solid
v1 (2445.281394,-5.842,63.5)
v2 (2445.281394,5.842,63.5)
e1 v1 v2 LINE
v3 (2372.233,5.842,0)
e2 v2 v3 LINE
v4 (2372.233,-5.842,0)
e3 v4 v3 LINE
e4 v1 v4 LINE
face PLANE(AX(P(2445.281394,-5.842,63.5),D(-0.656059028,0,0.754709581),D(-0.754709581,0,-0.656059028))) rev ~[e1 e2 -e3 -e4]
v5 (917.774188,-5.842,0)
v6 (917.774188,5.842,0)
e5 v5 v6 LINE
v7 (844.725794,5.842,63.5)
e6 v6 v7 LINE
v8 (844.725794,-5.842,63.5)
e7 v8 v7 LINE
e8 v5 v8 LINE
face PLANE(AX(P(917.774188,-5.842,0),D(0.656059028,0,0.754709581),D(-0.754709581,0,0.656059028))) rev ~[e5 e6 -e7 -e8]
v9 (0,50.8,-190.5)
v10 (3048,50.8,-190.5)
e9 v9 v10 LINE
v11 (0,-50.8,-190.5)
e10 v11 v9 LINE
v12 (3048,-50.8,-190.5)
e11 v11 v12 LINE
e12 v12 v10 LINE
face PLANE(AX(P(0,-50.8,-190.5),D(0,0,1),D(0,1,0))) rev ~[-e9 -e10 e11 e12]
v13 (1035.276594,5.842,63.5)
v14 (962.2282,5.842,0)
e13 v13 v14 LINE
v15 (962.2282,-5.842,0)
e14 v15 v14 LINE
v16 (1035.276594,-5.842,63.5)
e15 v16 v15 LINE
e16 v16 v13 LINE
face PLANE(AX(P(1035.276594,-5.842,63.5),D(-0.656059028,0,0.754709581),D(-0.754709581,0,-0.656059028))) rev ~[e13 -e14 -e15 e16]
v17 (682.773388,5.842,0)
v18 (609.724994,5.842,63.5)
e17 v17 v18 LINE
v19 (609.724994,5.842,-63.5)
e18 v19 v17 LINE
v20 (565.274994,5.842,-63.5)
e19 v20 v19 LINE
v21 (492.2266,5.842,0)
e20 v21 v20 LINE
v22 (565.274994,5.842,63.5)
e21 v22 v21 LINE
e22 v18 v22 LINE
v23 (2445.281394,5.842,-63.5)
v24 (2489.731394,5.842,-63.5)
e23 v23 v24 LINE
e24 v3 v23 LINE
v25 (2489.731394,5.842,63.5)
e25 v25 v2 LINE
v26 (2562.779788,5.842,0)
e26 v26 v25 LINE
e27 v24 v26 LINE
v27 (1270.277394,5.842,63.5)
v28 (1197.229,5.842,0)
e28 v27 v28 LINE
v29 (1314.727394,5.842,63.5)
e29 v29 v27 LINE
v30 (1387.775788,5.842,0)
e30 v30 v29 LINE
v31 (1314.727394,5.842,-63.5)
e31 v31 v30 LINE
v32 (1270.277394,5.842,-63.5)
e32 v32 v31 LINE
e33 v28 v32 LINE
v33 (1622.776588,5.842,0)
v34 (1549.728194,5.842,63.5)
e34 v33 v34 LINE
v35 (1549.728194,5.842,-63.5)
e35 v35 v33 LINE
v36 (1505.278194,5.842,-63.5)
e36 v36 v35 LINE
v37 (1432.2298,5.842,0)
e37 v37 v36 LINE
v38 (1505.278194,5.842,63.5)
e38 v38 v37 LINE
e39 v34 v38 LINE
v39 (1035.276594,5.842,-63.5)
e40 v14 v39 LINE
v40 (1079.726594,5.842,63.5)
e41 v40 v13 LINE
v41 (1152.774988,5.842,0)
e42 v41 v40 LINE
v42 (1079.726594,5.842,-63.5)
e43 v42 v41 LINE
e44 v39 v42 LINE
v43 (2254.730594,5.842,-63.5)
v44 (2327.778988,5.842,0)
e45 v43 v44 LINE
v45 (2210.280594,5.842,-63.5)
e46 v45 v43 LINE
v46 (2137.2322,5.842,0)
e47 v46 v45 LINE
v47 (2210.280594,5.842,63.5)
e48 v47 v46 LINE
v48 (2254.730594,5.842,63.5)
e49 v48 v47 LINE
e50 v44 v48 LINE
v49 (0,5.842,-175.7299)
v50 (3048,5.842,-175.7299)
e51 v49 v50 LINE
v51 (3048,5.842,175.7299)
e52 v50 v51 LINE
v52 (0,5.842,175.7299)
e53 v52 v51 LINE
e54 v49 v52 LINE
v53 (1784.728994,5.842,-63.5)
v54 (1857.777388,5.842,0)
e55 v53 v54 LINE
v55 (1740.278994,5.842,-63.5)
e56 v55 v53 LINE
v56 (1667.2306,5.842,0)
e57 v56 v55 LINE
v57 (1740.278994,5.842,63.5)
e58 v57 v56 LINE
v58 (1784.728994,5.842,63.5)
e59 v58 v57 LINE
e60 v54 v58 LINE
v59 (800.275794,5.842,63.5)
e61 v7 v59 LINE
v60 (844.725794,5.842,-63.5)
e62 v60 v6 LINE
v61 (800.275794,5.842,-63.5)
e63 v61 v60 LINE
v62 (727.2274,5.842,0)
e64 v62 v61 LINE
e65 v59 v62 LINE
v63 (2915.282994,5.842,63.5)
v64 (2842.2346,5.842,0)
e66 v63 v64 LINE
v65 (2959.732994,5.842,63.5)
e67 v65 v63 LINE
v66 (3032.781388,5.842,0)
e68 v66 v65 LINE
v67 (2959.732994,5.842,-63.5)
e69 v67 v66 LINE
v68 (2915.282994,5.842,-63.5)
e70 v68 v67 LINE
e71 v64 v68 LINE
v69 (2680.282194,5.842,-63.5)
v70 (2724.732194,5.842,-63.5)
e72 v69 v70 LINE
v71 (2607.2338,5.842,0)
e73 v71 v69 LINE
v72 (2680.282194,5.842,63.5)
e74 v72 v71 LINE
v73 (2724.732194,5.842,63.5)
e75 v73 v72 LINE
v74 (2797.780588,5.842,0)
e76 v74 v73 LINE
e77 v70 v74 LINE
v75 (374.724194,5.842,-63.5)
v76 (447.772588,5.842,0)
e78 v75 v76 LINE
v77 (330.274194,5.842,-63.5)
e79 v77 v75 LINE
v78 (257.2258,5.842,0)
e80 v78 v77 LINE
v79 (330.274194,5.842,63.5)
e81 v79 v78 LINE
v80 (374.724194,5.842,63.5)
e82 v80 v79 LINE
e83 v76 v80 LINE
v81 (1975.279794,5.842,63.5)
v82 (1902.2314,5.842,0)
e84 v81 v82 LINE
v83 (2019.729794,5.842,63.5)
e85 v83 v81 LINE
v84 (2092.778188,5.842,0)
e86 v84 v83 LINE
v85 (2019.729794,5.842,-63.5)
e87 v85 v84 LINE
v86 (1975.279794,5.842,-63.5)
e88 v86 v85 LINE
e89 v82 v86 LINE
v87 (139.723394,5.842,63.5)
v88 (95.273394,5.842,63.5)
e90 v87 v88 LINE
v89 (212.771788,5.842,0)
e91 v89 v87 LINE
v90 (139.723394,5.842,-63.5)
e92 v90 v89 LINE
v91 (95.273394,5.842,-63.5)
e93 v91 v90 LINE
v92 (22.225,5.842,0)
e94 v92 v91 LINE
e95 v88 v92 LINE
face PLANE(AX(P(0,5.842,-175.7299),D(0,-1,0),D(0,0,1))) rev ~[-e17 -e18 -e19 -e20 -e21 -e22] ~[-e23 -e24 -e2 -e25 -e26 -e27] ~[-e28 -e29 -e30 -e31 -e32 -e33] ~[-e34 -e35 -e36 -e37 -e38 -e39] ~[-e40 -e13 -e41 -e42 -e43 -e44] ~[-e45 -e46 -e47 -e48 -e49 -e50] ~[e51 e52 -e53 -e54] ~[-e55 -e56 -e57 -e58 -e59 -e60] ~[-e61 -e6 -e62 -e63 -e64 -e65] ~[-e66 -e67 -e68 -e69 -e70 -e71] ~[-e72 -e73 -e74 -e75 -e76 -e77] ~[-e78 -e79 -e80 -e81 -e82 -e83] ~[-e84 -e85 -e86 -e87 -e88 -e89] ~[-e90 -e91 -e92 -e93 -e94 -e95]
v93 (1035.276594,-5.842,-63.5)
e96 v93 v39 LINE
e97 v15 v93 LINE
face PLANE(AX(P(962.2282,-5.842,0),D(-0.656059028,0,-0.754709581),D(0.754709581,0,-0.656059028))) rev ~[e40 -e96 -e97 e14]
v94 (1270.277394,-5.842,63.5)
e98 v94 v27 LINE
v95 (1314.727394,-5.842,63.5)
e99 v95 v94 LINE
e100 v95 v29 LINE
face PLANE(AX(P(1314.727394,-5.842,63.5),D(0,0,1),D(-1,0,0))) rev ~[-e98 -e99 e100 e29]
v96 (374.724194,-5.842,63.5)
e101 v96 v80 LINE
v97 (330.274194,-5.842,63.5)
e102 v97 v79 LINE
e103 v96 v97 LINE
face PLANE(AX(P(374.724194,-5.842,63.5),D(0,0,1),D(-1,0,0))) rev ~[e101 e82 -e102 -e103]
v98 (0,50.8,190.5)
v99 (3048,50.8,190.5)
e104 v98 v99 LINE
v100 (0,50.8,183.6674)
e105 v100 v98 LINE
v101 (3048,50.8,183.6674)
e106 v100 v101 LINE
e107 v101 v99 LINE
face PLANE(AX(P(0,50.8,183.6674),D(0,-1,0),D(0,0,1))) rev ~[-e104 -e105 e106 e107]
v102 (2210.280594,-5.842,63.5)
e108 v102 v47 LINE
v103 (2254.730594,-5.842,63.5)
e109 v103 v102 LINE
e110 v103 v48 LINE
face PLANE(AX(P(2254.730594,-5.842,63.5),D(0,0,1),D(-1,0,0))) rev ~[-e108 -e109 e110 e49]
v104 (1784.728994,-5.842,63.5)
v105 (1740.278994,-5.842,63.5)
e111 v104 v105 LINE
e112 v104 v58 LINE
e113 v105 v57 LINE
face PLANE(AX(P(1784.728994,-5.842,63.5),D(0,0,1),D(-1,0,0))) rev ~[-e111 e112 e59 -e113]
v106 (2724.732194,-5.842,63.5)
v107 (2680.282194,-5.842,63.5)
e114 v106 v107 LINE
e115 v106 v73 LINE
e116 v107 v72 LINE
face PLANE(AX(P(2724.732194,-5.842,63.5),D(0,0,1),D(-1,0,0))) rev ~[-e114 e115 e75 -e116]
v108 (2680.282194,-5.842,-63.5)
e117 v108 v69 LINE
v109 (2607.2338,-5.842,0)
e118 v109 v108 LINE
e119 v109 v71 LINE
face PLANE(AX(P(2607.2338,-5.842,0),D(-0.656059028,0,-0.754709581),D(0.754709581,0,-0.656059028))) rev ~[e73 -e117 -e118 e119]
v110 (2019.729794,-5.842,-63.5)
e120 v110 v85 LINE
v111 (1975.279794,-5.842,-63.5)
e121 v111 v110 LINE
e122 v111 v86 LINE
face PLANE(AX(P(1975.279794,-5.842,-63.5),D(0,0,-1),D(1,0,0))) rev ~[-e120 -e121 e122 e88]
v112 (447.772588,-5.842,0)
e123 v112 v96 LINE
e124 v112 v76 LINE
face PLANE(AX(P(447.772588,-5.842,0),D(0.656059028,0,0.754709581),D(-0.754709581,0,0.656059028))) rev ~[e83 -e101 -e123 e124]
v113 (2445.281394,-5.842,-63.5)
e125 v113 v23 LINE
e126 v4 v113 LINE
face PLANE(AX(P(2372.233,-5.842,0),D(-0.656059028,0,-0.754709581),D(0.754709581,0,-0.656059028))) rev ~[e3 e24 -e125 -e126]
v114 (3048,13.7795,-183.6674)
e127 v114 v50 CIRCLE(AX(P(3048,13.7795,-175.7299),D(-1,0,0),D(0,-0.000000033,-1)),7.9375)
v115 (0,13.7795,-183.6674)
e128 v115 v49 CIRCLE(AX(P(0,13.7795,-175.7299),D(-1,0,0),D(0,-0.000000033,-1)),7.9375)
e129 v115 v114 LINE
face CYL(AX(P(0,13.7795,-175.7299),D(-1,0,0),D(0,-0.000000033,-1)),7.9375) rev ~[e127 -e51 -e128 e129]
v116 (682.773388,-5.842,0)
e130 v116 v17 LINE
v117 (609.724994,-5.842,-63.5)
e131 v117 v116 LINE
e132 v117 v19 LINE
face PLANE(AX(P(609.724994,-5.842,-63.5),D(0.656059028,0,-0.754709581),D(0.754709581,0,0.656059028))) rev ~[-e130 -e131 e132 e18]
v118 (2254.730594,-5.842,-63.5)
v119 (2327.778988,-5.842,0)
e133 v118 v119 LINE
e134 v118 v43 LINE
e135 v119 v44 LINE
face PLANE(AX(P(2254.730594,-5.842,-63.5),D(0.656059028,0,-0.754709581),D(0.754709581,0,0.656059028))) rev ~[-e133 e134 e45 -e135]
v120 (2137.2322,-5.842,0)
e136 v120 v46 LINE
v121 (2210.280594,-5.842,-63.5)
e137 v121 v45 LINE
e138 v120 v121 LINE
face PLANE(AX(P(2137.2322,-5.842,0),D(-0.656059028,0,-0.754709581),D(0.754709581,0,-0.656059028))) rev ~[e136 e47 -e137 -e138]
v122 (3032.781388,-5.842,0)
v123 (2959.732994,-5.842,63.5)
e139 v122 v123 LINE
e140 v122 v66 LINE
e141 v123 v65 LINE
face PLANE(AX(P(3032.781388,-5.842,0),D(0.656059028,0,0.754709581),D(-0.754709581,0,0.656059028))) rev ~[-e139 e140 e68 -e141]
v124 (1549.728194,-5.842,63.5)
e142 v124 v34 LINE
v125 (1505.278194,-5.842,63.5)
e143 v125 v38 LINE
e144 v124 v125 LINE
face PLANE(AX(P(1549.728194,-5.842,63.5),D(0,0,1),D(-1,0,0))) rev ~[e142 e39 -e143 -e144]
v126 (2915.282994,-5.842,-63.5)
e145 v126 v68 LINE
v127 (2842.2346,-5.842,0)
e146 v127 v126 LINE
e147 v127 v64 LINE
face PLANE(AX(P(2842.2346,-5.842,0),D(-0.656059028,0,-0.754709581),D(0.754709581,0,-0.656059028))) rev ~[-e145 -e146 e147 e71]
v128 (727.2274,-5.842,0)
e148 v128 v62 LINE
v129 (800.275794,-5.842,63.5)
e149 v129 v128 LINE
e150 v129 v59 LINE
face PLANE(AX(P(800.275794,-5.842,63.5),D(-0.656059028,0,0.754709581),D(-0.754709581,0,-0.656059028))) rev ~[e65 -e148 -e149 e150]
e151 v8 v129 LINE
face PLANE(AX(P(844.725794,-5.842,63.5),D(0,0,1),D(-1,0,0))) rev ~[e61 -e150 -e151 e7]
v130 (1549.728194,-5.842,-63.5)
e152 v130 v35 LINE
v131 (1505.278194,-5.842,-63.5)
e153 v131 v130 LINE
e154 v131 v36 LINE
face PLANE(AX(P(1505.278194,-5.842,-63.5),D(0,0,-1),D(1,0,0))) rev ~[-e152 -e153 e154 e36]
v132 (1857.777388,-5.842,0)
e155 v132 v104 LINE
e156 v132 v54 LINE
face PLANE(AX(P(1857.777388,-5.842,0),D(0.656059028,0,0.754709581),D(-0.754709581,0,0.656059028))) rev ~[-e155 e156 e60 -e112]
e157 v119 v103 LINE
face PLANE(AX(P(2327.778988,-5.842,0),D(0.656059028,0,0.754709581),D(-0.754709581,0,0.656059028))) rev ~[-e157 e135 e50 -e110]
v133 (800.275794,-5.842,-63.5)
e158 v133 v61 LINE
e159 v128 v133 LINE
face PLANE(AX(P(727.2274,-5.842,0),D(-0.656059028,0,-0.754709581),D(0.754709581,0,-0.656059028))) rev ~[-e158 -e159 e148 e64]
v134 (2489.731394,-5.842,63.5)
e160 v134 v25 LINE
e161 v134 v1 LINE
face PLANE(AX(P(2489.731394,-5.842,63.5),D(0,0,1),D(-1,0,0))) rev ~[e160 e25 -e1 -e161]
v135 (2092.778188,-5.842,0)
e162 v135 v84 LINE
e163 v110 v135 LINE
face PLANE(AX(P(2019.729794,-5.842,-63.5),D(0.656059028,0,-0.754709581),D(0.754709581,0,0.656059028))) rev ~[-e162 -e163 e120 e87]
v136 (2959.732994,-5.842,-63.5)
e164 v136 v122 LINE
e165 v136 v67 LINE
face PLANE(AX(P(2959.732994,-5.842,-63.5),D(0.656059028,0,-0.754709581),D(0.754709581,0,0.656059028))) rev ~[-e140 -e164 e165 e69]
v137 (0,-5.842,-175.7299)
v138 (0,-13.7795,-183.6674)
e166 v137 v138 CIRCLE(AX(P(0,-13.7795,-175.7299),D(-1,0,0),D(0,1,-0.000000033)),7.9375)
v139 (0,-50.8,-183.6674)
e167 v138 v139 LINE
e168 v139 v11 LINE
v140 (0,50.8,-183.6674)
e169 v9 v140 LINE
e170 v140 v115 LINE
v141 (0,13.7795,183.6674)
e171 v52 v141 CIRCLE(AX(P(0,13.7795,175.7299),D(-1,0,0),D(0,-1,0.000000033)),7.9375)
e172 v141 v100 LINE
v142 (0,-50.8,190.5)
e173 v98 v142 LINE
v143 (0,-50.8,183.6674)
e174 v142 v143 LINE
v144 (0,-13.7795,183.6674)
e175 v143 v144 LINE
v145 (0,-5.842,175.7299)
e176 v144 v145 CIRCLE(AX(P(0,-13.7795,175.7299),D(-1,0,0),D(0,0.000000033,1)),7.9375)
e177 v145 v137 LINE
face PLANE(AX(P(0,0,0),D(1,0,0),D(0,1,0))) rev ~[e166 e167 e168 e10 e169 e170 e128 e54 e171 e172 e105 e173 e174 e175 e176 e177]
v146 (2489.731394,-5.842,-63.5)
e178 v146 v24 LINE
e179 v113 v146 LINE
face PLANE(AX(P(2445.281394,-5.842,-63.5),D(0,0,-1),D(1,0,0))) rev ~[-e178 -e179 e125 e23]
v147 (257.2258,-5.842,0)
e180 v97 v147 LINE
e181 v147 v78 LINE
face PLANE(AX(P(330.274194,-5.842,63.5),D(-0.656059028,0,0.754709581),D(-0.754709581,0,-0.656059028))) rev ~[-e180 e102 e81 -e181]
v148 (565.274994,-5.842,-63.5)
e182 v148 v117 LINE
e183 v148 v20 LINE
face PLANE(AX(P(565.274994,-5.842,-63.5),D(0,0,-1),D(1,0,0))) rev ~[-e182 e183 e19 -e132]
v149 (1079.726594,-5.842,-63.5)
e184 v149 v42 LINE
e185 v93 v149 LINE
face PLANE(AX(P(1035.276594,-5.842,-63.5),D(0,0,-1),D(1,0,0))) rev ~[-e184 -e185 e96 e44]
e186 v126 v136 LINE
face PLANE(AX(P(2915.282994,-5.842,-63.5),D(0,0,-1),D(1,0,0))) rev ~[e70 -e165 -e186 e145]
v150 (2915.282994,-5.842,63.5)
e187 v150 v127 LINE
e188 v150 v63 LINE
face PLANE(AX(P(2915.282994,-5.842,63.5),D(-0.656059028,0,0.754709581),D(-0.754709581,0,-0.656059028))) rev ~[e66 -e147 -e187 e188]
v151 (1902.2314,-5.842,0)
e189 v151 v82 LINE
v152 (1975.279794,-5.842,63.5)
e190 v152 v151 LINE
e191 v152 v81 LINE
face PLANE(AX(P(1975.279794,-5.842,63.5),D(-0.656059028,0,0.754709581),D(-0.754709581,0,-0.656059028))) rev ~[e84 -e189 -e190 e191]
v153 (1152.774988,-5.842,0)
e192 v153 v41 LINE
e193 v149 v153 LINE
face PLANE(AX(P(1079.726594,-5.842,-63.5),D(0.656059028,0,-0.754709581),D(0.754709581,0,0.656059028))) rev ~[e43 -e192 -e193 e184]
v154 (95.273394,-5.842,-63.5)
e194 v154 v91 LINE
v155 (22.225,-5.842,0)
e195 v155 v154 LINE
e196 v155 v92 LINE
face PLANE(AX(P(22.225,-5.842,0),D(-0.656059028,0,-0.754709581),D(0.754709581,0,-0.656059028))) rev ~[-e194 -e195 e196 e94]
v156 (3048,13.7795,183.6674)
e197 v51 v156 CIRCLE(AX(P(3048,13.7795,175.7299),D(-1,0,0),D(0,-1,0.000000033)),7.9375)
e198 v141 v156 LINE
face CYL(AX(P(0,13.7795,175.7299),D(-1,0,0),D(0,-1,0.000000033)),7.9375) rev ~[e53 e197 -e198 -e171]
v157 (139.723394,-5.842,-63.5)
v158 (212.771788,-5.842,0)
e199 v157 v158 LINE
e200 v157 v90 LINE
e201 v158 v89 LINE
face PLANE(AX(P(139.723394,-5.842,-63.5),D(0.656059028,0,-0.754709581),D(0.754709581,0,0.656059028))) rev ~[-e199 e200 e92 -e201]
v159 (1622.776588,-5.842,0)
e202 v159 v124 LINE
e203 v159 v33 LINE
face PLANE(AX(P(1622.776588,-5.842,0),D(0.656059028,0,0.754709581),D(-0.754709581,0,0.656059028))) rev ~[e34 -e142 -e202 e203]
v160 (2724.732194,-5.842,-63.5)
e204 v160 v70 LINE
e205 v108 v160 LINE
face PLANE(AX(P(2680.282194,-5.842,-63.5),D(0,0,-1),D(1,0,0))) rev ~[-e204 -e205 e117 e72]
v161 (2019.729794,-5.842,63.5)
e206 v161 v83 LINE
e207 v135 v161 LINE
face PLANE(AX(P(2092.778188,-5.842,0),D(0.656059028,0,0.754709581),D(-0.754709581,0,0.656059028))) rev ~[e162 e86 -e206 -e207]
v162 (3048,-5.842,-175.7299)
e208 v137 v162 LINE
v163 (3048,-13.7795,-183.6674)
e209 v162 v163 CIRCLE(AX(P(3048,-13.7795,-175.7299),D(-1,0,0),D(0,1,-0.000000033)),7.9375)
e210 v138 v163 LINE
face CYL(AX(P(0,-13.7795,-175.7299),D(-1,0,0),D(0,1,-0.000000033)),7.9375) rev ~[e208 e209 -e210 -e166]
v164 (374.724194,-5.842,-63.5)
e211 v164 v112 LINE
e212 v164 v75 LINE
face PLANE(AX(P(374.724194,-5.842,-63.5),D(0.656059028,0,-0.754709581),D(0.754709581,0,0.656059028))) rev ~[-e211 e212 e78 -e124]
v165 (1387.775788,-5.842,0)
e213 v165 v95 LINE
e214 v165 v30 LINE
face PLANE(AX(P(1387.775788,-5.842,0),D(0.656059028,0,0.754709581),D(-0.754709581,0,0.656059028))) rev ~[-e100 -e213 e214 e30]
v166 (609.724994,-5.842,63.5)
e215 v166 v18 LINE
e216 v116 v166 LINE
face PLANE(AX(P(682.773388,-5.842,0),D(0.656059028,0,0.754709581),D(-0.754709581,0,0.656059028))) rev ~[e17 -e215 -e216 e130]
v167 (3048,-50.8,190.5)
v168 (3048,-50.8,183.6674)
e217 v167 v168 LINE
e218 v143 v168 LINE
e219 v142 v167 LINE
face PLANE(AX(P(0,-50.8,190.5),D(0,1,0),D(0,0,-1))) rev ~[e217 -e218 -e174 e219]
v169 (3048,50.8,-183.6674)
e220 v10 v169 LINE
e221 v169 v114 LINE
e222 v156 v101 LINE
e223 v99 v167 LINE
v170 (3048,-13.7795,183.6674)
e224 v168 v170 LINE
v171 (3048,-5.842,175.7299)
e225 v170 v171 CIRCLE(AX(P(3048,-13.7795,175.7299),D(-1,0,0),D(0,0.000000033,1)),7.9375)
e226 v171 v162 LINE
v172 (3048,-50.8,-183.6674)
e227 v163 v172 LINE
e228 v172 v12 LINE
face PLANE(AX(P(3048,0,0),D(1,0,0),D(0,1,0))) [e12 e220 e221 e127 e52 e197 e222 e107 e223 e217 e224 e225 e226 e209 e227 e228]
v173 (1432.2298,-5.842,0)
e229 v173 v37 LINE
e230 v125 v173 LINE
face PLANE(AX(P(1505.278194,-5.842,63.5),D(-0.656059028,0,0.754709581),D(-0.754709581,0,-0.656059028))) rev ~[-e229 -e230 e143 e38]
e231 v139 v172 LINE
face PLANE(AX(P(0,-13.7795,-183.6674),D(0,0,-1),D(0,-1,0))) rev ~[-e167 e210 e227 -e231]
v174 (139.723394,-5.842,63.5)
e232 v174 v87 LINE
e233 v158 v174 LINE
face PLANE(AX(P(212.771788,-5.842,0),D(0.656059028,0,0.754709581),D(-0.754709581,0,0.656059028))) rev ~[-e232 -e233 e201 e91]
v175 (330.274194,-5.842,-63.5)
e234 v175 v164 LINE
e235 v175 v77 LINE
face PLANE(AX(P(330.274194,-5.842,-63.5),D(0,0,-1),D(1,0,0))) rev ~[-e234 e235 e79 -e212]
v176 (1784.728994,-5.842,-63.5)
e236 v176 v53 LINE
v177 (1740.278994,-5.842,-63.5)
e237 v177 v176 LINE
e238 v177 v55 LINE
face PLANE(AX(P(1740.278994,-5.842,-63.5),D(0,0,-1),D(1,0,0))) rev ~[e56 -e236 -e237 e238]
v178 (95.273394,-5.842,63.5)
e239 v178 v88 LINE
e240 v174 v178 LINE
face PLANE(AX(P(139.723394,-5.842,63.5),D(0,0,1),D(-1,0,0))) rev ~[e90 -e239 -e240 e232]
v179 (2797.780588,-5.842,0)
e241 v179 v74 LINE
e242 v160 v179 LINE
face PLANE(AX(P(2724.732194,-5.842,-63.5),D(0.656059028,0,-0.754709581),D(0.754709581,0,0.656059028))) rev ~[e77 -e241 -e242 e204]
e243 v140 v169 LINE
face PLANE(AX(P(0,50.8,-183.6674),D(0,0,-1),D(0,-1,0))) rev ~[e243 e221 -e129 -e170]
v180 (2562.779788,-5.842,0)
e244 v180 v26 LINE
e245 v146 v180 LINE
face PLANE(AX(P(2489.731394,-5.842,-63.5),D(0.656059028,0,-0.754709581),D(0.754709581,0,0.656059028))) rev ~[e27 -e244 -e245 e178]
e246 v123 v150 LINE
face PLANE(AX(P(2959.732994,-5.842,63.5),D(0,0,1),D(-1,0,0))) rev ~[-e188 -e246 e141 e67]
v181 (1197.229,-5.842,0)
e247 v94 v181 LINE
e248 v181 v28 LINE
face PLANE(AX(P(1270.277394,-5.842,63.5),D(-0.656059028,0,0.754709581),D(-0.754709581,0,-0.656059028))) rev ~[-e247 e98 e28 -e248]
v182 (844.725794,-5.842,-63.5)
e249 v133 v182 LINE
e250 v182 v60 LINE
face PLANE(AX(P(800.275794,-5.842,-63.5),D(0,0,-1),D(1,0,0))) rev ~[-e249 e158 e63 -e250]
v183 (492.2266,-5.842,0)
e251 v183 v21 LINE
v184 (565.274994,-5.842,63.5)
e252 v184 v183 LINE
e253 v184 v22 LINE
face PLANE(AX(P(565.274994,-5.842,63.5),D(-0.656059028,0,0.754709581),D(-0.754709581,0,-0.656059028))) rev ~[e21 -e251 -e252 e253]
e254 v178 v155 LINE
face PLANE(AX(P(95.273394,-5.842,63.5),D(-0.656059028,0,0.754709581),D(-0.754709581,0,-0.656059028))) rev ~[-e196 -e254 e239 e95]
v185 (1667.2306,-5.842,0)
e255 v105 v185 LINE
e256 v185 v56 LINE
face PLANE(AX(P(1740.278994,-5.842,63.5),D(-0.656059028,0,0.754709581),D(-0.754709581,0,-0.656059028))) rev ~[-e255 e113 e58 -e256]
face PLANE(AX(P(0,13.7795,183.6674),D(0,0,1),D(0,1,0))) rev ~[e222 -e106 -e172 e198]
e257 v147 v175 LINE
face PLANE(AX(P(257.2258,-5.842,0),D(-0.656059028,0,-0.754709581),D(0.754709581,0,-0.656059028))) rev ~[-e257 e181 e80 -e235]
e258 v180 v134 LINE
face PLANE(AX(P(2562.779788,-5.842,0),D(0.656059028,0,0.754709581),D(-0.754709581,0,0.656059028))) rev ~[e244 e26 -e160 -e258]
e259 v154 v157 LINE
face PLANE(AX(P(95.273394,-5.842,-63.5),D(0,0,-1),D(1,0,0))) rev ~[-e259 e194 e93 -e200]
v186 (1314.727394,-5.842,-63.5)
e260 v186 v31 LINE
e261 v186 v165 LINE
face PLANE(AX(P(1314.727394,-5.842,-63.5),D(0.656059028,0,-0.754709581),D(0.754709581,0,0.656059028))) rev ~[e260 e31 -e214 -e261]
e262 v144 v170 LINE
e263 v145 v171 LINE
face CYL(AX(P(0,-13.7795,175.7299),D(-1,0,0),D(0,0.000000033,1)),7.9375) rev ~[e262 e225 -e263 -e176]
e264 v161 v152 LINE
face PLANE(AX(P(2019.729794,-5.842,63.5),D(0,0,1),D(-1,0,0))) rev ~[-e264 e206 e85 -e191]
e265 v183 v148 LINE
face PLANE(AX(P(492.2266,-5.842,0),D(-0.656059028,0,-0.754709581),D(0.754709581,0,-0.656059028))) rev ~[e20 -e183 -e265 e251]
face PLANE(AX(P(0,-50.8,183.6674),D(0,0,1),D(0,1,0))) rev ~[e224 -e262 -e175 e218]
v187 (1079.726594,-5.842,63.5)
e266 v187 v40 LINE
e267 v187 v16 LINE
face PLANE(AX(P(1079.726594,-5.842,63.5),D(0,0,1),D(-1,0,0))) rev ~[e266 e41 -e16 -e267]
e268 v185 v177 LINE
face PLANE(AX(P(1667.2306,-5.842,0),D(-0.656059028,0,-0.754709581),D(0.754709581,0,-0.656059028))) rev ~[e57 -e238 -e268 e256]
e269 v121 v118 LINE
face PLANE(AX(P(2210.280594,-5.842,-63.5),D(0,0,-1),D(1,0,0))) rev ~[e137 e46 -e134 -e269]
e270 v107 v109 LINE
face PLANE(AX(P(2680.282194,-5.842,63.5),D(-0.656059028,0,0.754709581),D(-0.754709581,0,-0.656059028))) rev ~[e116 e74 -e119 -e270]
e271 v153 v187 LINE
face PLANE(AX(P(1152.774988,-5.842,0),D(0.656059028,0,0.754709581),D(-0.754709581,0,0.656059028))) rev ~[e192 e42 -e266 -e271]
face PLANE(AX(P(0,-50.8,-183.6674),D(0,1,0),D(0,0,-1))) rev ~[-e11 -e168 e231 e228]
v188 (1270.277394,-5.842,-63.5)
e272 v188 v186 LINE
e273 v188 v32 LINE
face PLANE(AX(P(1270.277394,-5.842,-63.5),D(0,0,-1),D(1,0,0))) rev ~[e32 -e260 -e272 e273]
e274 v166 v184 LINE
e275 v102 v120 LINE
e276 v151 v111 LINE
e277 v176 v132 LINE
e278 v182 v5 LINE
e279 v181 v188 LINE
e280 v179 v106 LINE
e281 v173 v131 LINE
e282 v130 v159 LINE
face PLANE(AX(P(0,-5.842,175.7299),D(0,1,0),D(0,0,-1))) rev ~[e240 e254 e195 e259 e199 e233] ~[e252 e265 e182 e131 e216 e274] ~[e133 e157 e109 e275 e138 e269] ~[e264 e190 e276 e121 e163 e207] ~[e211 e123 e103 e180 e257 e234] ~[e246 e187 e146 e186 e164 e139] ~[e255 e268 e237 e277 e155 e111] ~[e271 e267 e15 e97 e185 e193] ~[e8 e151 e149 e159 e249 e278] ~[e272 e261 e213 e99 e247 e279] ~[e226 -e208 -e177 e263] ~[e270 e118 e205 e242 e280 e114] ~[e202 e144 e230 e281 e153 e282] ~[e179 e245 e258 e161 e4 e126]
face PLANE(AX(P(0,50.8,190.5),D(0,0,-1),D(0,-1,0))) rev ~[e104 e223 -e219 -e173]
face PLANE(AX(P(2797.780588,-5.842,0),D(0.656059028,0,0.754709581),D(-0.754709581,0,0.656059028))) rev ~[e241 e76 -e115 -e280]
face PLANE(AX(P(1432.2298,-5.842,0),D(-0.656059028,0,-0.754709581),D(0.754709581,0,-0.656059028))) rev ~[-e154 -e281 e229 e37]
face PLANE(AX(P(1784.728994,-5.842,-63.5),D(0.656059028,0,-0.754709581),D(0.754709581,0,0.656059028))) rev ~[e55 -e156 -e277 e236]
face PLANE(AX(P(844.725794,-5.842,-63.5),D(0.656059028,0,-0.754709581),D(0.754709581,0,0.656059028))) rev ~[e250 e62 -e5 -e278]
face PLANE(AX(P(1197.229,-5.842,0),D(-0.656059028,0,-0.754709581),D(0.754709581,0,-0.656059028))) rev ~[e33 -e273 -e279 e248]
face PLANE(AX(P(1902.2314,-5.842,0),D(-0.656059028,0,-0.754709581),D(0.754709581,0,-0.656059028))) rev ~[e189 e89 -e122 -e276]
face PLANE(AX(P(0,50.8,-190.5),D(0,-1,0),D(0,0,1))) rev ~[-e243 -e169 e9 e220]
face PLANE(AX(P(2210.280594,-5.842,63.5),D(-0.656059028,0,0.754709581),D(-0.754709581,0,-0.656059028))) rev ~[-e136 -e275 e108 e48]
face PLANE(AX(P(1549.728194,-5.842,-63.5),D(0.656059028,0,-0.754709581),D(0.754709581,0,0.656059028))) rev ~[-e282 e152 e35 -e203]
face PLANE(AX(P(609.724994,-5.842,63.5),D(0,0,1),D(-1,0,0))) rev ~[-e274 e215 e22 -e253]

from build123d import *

# Parameters (mm, degrees)
F1_DEPTH = 3048
F3_DEPTH = 56.643


with BuildPart() as f1:
    # F0 (on Right) → F1 (new body)
    with BuildSketch(Plane.YZ):
        with BuildLine():
            Line((-5.842, 175.7299), (-5.842, 0))
            Line((-5.842, 0), (-5.842, -175.7299))
            ThreePointArc((-5.842, -175.7299), (-8.16684, -181.34256), (-13.7795, -183.6674))
            Line((-13.7795, -183.6674), (-50.8, -183.6674))
            Line((-50.8, -183.6674), (-50.8, -190.5))
            Line((-50.8, -190.5), (0, -190.5))
            Line((0, -190.5), (50.8, -190.5))
            Line((50.8, -190.5), (50.8, -183.6674))
            Line((50.8, -183.6674), (13.7795, -183.6674))
            ThreePointArc((13.7795, -183.6674), (8.16684, -181.34256), (5.842, -175.7299))
            Line((5.842, -175.7299), (5.842, 0))
            Line((5.842, 0), (5.842, 175.7299))
            ThreePointArc((5.842, 175.7299), (8.16684, 181.34256), (13.7795, 183.6674))
            Line((13.7795, 183.6674), (50.8, 183.6674))
            Line((50.8, 183.6674), (50.8, 190.5))
            Line((50.8, 190.5), (0, 190.5))
            Line((0, 190.5), (-50.8, 190.5))
            Line((-50.8, 190.5), (-50.8, 183.6674))
            Line((-50.8, 183.6674), (-13.7795, 183.6674))
            ThreePointArc((-13.7795, 183.6674), (-8.16684, 181.34256), (-5.842, 175.7299))
        make_face()
    extrude(amount=F1_DEPTH)

    # F2 (on face) → F3 (cut, through all)
    with BuildSketch(Plane.XZ.offset(5.842)):
        Polygon((95.273394, 63.5), (22.225, 0), (95.273394, -63.5), (139.723394, -63.5), (212.771788, 0), (139.723394, 63.5), align=None)
        Polygon((374.724194, 63.5), (330.274194, 63.5), (257.2258, 0), (330.274194, -63.5), (374.724194, -63.5), (447.772588, 0), align=None)
        Polygon((609.724994, 63.5), (565.274994, 63.5), (492.2266, 0), (565.274994, -63.5), (609.724994, -63.5), (682.773388, 0), align=None)
        Polygon((844.725794, 63.5), (800.275794, 63.5), (727.2274, 0), (800.275794, -63.5), (844.725794, -63.5), (917.774188, 0), align=None)
        Polygon((1079.726594, 63.5), (1035.276594, 63.5), (962.2282, 0), (1035.276594, -63.5), (1079.726594, -63.5), (1152.774988, 0), align=None)
        Polygon((1314.727394, 63.5), (1270.277394, 63.5), (1197.229, 0), (1270.277394, -63.5), (1314.727394, -63.5), (1387.775788, 0), align=None)
        Polygon((1549.728194, 63.5), (1505.278194, 63.5), (1432.2298, 0), (1505.278194, -63.5), (1549.728194, -63.5), (1622.776588, 0), align=None)
        Polygon((1784.728994, 63.5), (1740.278994, 63.5), (1667.2306, 0), (1740.278994, -63.5), (1784.728994, -63.5), (1857.777388, 0), align=None)
        Polygon((2019.729794, 63.5), (1975.279794, 63.5), (1902.2314, 0), (1975.279794, -63.5), (2019.729794, -63.5), (2092.778188, 0), align=None)
        Polygon((2254.730594, 63.5), (2210.280594, 63.5), (2137.2322, 0), (2210.280594, -63.5), (2254.730594, -63.5), (2327.778988, 0), align=None)
        Polygon((2489.731394, 63.5), (2445.281394, 63.5), (2372.233, 0), (2445.281394, -63.5), (2489.731394, -63.5), (2562.779788, 0), align=None)
        Polygon((2724.732194, 63.5), (2680.282194, 63.5), (2607.2338, 0), (2680.282194, -63.5), (2724.732194, -63.5), (2797.780588, 0), align=None)
        Polygon((2959.732994, 63.5), (2915.282994, 63.5), (2842.2346, 0), (2915.282994, -63.5), (2959.732994, -63.5), (3032.781388, 0), align=None)
    extrude(amount=-F3_DEPTH, mode=Mode.SUBTRACT)


solid = f1.part
